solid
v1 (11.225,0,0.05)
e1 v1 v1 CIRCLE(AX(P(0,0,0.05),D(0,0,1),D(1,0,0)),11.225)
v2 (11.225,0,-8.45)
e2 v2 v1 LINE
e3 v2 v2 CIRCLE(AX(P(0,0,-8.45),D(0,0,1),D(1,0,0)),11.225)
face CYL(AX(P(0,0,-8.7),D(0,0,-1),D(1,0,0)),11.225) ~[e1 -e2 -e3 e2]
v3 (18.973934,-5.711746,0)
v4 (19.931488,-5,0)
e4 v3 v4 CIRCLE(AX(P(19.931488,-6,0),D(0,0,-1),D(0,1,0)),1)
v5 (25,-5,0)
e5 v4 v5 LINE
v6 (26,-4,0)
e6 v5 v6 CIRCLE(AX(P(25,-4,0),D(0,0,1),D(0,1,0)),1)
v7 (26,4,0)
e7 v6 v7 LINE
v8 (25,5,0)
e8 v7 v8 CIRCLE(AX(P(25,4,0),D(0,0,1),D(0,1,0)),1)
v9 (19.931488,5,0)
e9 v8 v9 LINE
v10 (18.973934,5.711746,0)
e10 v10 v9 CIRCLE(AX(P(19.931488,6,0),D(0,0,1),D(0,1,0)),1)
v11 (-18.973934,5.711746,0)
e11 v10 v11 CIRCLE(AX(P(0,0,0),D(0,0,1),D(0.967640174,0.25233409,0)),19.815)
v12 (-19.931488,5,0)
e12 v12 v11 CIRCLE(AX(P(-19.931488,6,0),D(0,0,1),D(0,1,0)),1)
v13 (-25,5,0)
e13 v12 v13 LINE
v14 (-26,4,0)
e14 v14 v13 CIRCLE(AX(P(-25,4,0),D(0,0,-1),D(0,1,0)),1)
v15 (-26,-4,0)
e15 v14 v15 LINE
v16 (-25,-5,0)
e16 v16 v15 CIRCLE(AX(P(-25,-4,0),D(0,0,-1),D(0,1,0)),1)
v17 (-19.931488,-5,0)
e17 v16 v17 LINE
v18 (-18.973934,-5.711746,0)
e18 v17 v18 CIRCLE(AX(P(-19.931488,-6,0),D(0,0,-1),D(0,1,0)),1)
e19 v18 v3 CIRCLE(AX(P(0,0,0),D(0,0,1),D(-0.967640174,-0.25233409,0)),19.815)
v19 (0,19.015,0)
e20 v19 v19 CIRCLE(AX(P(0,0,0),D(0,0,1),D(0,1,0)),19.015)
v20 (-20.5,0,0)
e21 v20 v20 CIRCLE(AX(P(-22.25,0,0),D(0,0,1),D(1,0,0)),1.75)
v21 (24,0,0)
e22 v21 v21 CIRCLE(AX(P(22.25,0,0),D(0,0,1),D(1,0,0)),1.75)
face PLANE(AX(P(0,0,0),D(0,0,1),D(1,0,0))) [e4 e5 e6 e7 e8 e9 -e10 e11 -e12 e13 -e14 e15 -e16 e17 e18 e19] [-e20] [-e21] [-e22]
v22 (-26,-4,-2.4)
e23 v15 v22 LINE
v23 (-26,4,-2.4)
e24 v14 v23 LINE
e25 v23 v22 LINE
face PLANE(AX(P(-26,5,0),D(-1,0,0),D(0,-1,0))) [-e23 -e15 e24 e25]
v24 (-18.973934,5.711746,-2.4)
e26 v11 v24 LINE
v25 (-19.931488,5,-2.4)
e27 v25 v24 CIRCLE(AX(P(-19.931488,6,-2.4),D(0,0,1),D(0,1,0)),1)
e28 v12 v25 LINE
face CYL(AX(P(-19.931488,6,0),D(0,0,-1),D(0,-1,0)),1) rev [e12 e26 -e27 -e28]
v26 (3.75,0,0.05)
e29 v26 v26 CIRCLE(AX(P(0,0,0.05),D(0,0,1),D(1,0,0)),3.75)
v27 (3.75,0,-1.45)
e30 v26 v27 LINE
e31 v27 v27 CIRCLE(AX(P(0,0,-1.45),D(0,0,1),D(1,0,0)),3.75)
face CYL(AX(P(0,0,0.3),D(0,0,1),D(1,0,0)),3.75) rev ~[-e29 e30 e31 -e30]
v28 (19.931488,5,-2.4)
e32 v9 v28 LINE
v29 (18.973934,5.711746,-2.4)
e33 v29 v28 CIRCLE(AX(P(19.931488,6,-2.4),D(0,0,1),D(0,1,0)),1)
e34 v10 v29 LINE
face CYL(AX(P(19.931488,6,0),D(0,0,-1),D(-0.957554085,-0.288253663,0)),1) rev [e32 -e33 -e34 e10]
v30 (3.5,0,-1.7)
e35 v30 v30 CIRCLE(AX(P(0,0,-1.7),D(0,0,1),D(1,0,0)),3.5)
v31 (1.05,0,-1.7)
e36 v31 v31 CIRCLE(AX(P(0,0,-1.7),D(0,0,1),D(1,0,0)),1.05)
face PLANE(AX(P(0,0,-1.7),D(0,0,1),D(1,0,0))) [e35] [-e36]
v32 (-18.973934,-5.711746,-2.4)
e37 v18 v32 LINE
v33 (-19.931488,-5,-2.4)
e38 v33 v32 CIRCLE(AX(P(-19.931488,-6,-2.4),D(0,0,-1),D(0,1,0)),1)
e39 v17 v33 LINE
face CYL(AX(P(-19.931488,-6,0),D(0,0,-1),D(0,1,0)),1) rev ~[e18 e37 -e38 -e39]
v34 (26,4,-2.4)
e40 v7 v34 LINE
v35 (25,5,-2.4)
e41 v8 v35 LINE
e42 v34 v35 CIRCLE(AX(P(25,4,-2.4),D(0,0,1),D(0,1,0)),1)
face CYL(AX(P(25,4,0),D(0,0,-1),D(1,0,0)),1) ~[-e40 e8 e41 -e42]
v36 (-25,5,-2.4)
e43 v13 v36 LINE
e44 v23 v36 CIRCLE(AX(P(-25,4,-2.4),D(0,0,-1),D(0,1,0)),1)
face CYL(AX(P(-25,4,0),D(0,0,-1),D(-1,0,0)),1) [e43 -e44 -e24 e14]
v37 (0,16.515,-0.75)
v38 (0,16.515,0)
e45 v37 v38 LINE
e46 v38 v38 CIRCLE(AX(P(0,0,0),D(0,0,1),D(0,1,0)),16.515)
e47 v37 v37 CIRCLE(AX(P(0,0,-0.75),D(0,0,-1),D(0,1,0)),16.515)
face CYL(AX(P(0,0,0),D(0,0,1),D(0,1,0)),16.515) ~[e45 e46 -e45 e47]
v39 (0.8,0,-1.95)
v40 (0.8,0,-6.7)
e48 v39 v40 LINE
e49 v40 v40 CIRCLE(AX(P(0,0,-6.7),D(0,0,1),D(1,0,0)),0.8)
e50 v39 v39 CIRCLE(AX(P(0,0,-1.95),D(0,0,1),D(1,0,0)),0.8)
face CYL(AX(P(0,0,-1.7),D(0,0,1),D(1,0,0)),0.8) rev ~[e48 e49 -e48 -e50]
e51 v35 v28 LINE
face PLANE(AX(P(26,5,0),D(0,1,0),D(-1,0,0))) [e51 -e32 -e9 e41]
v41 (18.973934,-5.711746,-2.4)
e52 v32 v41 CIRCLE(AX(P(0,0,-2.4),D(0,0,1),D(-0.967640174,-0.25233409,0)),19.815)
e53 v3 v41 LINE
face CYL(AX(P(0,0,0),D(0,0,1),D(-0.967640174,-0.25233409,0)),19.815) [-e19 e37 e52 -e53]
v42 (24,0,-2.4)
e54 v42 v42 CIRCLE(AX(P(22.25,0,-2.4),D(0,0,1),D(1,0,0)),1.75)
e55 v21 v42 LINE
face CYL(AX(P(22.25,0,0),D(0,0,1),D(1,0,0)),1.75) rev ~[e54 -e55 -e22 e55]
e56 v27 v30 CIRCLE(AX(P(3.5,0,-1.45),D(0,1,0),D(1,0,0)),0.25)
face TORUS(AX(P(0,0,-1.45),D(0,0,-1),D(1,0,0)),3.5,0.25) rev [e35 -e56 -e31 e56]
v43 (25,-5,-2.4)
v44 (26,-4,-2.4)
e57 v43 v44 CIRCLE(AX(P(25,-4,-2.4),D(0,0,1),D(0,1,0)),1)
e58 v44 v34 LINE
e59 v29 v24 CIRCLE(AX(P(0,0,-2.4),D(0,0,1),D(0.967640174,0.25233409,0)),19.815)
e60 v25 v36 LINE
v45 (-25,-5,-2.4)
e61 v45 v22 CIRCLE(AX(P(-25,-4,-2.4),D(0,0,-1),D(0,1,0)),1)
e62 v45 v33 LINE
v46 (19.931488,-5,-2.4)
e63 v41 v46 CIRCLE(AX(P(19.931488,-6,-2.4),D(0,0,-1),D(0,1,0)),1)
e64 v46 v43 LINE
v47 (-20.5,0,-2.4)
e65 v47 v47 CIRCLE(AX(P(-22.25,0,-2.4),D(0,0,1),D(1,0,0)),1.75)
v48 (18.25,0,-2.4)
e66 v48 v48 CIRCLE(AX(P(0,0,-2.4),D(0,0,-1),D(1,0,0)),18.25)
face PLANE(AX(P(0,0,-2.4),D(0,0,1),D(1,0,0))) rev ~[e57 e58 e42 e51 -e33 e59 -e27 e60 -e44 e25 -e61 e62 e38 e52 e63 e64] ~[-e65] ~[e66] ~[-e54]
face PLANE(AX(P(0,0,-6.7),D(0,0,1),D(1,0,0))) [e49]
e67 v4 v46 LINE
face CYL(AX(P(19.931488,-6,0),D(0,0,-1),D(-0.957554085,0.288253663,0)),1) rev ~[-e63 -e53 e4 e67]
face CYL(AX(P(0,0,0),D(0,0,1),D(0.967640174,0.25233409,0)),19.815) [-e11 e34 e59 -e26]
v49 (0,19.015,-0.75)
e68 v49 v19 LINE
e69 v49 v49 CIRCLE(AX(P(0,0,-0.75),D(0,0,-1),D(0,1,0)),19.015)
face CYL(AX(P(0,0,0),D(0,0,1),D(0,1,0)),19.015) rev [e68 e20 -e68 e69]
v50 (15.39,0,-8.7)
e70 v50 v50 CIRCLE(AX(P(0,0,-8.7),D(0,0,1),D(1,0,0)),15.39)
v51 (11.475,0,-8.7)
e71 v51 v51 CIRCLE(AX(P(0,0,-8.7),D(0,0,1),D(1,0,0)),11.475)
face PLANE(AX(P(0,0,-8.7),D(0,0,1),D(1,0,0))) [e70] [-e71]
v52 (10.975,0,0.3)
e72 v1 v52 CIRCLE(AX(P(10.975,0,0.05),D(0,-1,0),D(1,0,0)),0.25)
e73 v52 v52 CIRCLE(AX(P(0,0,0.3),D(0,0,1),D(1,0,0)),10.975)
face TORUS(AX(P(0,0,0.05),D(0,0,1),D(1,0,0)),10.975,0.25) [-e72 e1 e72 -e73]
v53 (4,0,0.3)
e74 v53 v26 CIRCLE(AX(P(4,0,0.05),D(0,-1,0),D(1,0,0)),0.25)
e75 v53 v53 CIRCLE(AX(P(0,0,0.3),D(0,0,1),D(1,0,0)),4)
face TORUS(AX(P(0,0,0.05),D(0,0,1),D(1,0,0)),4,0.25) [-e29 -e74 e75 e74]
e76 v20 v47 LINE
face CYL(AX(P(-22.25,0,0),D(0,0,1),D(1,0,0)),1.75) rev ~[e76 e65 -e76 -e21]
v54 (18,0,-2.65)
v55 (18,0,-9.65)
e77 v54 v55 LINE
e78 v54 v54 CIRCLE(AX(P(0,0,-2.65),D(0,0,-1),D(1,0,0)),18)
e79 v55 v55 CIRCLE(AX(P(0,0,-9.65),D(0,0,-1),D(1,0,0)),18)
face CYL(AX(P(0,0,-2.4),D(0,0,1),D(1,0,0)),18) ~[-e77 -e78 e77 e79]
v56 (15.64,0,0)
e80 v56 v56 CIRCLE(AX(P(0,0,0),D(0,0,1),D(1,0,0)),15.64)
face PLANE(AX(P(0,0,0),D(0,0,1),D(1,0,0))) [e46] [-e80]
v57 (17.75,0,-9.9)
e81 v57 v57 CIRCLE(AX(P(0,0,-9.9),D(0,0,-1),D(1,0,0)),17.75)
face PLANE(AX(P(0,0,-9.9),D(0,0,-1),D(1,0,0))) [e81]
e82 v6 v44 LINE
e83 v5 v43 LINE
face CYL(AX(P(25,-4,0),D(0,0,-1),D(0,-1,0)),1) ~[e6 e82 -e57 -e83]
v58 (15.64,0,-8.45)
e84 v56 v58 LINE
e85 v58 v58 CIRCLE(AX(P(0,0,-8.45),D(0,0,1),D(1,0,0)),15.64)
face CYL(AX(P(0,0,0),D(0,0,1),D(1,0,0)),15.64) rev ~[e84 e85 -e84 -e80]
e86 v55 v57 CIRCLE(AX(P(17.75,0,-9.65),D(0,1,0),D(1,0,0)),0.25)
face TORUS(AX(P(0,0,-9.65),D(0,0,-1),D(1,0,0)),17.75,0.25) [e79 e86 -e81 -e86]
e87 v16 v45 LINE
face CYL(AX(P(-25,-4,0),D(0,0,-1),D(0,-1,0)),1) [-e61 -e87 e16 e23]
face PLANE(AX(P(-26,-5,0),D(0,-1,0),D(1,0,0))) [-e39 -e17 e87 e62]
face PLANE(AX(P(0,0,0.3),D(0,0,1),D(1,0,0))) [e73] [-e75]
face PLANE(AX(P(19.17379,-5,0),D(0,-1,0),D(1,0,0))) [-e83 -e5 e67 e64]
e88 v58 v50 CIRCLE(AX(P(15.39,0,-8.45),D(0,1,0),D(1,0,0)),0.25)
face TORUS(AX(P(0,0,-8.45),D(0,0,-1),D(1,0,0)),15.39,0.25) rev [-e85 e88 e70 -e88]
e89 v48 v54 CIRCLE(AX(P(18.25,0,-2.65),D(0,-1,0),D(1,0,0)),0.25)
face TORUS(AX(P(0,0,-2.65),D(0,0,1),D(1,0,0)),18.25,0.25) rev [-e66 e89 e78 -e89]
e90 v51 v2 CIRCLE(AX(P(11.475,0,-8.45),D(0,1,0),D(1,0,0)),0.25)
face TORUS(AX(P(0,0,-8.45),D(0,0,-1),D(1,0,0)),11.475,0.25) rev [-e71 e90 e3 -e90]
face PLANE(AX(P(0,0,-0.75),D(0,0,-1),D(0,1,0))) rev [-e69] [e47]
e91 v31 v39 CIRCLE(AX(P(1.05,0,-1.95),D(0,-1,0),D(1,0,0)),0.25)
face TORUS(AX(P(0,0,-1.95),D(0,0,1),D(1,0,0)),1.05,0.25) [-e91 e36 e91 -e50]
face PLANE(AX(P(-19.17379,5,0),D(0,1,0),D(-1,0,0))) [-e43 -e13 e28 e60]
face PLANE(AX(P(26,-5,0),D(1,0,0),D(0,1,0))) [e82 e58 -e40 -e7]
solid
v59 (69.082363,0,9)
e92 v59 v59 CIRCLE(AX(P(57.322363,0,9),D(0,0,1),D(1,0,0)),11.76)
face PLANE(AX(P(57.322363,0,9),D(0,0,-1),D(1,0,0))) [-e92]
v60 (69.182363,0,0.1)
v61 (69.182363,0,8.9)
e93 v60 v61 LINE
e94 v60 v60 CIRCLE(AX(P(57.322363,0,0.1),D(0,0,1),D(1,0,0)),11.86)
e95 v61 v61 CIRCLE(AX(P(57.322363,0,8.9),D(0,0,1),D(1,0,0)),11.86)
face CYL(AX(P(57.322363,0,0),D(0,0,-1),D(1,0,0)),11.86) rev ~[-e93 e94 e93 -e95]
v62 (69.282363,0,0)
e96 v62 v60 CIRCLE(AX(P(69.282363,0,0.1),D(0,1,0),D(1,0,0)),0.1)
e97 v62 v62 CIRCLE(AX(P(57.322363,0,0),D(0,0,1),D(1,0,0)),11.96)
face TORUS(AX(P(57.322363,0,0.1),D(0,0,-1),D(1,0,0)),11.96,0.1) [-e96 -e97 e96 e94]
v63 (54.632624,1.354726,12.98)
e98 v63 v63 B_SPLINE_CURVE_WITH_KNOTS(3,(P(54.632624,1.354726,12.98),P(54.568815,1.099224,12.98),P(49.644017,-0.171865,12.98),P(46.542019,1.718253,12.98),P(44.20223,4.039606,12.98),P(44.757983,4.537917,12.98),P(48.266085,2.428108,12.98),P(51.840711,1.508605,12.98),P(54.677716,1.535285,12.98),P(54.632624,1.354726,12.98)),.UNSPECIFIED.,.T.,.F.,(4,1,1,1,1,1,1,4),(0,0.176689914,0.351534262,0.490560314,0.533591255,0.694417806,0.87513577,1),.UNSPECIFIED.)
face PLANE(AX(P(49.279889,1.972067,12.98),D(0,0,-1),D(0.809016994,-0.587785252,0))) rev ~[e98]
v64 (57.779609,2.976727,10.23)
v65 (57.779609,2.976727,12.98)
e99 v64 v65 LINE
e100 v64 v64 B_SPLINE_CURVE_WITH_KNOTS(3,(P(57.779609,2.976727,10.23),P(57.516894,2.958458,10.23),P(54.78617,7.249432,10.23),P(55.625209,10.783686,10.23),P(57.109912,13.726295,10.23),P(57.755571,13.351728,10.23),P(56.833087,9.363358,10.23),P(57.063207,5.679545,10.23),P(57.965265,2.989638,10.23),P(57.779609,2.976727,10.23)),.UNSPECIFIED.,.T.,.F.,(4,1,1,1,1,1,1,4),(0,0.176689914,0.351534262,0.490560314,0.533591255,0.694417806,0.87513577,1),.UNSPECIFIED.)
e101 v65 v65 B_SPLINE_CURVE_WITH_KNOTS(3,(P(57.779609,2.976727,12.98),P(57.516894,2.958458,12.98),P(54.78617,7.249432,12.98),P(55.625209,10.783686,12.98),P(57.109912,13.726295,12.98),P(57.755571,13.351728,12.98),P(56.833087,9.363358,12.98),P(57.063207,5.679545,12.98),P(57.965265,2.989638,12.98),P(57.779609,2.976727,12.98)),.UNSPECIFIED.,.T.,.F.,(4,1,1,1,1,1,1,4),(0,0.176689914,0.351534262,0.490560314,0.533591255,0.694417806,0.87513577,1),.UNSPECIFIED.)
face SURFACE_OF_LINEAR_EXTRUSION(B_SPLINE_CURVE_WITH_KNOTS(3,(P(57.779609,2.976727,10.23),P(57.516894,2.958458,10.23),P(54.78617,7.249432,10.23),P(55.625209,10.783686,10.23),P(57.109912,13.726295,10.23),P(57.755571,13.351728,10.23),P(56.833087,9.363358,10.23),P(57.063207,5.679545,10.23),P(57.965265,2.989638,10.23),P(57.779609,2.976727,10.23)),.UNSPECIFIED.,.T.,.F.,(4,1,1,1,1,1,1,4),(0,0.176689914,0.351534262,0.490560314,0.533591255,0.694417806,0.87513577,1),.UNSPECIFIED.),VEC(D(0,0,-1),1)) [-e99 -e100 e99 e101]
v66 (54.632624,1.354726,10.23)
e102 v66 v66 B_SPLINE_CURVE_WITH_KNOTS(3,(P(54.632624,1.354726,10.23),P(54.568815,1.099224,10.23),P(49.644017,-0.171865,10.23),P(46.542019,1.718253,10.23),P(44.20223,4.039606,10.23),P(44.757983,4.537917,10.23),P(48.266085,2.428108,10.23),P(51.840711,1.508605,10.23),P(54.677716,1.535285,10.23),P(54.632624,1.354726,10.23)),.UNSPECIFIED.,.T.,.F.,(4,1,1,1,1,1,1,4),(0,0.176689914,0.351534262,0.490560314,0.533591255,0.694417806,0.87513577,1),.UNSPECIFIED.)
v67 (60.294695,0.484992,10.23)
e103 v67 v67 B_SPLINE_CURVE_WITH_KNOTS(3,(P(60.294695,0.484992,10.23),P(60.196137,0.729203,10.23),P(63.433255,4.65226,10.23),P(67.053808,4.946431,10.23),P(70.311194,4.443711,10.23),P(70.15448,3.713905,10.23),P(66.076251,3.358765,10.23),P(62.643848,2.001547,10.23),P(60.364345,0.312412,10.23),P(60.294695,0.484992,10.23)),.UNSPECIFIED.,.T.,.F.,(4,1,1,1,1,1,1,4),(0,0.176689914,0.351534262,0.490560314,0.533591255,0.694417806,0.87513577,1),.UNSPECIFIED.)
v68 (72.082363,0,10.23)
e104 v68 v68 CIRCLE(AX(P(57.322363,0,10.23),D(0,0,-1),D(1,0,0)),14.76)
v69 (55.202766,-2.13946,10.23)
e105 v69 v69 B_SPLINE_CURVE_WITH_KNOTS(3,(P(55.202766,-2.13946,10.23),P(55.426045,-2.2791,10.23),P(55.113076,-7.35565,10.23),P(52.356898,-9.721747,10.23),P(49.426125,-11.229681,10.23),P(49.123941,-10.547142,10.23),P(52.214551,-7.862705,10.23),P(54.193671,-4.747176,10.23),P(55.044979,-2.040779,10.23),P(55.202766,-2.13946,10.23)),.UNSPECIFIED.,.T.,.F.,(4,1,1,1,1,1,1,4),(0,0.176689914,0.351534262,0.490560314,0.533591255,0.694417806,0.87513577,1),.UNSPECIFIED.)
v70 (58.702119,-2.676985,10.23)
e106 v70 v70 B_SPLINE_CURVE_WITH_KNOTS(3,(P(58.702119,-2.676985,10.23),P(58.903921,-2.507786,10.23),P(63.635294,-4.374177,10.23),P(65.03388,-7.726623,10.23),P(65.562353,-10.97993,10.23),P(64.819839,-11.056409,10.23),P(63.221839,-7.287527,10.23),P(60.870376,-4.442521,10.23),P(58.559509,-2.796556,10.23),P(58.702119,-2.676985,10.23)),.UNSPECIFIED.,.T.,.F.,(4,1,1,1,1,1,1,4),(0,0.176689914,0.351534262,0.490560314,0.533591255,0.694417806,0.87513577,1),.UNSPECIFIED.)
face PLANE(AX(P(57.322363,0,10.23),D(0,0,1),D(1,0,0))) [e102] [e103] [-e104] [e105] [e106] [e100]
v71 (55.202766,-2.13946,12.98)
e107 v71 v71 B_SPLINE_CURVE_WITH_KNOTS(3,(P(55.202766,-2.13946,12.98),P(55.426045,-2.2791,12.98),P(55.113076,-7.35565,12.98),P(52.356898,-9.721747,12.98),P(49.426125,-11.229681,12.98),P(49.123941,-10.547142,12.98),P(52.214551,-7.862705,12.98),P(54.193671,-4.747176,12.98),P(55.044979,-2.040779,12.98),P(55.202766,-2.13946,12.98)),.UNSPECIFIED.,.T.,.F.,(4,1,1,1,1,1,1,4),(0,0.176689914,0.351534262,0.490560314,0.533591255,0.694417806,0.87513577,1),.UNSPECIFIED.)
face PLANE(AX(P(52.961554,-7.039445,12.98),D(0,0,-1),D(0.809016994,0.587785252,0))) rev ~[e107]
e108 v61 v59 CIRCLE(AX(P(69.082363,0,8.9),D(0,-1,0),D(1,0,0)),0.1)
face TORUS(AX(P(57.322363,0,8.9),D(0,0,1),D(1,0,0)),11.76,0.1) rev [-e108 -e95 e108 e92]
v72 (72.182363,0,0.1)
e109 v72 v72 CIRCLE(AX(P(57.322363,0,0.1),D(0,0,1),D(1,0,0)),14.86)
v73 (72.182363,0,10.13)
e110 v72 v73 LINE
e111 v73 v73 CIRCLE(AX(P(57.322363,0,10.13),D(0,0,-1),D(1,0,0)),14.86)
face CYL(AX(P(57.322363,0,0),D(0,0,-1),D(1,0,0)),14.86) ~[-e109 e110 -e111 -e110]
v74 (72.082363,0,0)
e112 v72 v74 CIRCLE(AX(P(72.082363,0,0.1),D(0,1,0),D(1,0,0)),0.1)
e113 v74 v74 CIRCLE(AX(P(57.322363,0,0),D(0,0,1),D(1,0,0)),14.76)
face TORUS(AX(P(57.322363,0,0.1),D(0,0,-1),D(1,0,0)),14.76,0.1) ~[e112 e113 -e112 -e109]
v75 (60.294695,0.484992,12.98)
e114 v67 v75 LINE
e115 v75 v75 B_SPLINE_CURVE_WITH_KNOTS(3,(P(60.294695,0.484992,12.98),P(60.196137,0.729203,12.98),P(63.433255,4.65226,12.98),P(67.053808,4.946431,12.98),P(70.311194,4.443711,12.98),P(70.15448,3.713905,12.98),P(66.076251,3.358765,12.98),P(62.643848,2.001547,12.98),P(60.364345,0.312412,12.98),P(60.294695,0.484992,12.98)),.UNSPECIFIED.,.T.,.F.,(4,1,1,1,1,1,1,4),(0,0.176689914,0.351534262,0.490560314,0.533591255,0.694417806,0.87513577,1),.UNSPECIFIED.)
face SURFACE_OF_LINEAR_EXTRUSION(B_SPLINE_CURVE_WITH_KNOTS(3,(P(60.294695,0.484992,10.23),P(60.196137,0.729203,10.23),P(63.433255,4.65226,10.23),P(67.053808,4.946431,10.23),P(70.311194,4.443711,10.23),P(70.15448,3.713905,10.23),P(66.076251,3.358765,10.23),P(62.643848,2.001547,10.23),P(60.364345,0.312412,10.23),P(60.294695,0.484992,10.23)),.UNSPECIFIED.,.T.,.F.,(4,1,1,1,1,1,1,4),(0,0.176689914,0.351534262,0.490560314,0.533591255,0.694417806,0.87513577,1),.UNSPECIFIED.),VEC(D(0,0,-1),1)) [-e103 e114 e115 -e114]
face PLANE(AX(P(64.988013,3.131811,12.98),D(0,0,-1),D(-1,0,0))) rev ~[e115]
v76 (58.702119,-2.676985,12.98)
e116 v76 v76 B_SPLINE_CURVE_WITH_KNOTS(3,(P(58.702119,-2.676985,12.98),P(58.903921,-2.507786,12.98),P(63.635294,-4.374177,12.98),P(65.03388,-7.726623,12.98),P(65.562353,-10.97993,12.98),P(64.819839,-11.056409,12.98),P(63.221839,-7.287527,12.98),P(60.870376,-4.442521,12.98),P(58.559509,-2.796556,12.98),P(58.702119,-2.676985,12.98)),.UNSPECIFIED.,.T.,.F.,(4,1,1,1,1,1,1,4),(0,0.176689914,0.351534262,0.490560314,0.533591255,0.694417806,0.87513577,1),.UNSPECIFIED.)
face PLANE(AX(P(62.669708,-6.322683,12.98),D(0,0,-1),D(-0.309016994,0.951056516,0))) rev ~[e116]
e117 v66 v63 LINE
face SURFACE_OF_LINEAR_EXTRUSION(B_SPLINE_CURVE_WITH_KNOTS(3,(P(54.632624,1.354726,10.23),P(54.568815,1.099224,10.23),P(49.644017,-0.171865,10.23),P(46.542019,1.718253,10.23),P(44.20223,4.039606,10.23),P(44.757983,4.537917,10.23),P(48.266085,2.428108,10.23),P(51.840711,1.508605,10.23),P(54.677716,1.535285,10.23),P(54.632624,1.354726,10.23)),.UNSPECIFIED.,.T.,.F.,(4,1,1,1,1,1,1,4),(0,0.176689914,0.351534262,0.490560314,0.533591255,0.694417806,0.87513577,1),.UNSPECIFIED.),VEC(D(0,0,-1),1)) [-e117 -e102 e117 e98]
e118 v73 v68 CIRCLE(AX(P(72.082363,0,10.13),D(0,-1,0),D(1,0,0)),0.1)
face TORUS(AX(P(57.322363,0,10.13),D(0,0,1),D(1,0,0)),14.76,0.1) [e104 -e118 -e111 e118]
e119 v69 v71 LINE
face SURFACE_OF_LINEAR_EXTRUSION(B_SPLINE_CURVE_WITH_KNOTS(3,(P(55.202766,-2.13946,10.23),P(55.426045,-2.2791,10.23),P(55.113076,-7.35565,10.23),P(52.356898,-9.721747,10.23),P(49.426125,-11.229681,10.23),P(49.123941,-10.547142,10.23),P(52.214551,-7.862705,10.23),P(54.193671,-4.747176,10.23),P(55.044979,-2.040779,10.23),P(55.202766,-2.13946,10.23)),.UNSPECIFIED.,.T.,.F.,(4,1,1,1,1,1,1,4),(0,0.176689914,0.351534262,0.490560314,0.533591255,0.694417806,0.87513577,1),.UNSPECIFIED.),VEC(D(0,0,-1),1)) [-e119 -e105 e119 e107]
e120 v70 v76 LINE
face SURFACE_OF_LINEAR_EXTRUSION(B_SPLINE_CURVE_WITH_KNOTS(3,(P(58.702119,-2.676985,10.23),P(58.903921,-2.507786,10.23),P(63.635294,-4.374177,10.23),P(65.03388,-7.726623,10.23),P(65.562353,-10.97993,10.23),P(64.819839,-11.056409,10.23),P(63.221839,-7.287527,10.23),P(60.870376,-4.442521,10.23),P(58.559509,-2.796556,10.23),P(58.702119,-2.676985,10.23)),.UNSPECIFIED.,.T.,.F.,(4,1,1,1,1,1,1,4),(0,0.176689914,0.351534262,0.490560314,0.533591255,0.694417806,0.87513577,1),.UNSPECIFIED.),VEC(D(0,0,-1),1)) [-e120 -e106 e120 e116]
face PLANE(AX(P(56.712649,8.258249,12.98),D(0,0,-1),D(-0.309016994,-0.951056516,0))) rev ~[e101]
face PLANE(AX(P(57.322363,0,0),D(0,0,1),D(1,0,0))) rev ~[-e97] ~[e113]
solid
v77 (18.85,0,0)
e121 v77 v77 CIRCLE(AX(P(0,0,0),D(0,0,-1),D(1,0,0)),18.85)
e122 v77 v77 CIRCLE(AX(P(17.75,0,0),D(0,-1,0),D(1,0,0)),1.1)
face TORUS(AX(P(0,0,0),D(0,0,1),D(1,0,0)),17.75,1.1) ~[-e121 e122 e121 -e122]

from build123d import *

# Parameters (mm, degrees)
F0_R      = 1.75
F1_DEPTH  = 2.4
F2_R      = 1
F3_R      = 18
F4_DEPTH  = 7.5
F5_R      = 15.64
F6_DEPTH  = 8.7
F7_R      = 11.225
F8_DEPTH  = 9
F9_R      = 3.75
F10_DEPTH = 2
F11_R     = 0.8
F12_DEPTH = 5
F13_R     = 0.25
F14_W     = 2.5
F14_H     = 1.5
F18_R     = 1.1
F21_R     = 14.86
F22_DEPTH = 10.23
F23_R     = 11.86
F24_DEPTH = 9
F25_R     = 0.1
F28_DEPTH = 2.75
F29_COUNT = 5


with BuildPart() as f1:
    # F0 (on Top) → F1 (new body)
    with BuildSketch(Plane.XY):
        with BuildLine():
            Line((-26, -5), (-19.1737900531, -5))
            ThreePointArc((-19.1737900531, -5), (0, -19.815), (19.1737900531, -5))
            Line((19.1737900531, -5), (26, -5))
            Line((26, -5), (26, 5))
            Line((26, 5), (19.1737900531, 5))
            ThreePointArc((19.1737900531, 5), (0, 19.815), (-19.1737900531, 5))
            Line((-19.1737900531, 5), (-26, 5))
            Line((-26, 5), (-26, -5))
        make_face()
        with Locations((-22.25, 0)):
            Circle(F0_R, mode=Mode.SUBTRACT)
        with Locations((22.25, 0)):
            Circle(F0_R, mode=Mode.SUBTRACT)
    extrude(amount=-F1_DEPTH)

    # F2
    f2_edges = [f1.edges().sort_by_distance(p)[0] for p in [
        (26, -5, -1.2),
        (19.17379, -5, -1.2),
        (26, 5, -1.2),
        (19.17379, 5, -1.2),
        (-19.17379, 5, -1.2),
        (-26, 5, -1.2),
        (-26, -5, -1.2),
        (-19.17379, -5, -1.2),
    ]]
    fillet(f2_edges, radius=F2_R)

    # F3 (on face) → F4 (join)
    with BuildSketch(Plane(origin=(0, 0, -2.4), x_dir=(1, 0, 0), z_dir=(0, 0, -1))):
        Circle(F3_R)
    extrude(amount=F4_DEPTH)

    # F5 (on face) → F6 (cut)
    with BuildSketch(Plane.XY):
        Circle(F5_R)
    extrude(amount=-F6_DEPTH, mode=Mode.SUBTRACT)

    # F7 (on face) → F8 (join)
    with BuildSketch(Plane.XY.offset(-8.7)):
        Circle(F7_R)
    extrude(amount=F8_DEPTH)

    # F9 (on face) → F10 (cut)
    with BuildSketch(Plane.XY.offset(0.3)):
        Circle(F9_R)
    extrude(amount=-F10_DEPTH, mode=Mode.SUBTRACT)

    # F11 (on face) → F12 (cut)
    with BuildSketch(Plane.XY.offset(-1.7)):
        Circle(F11_R)
    extrude(amount=-F12_DEPTH, mode=Mode.SUBTRACT)

    # F13
    f13_edges = [f1.edges().sort_by_distance(p)[0] for p in [
        (-18, 0, -9.9),
        (-18, 0, -2.4),
        (-15.64, 0, -8.7),
        (-11.225, 0, -8.7),
        (-11.225, 0, 0.3),
        (-3.75, 0, 0.3),
        (-3.75, 0, -1.7),
        (-0.8, 0, -1.7),
    ]]
    fillet(f13_edges, radius=F13_R)

    # F14 (on Right) → F16 (revolve, cut)
    with BuildSketch(Plane.YZ):
        with Locations((17.765, 0)):
            Rectangle(F14_W, F14_H)
    revolve(axis=Axis((0, 0, -5.8747697622), (0, 0, -1)), mode=Mode.SUBTRACT)


with BuildPart() as f20:
    # F18 (on Front) → F20 (revolve)
    with BuildSketch(Plane.XZ):
        with Locations((17.75, 0)):
            Circle(F18_R)
    revolve(axis=Axis((0, 0, -3.7356289104), (0, 0, -1)))


with BuildPart() as f22:
    # F21 (on Top) → F22 (new body)
    with BuildSketch(Plane.XY):
        with Locations((57.3223626233, 0)):
            Circle(F21_R)
    extrude(amount=F22_DEPTH)

    # F23 (on face) → F24 (cut)
    with BuildSketch(Plane(origin=(0, 0, 0), x_dir=(1, 0, 0), z_dir=(0, 0, -1))):
        with Locations((57.3223626233, 0)):
            Circle(F23_R)
    extrude(amount=-F24_DEPTH, mode=Mode.SUBTRACT)

    # F25
    f25_edges = [f22.edges().sort_by_distance(p)[0] for p in [
        (42.462363, 0, 10.23),
        (42.462363, 0, 0),
        (45.462363, 0, 0),
        (45.462363, 0, 9),
    ]]
    fillet(f25_edges, radius=F25_R)

    # F27 (on face) → F28 (join)
    with BuildSketch(Plane.XY.offset(10.23)):
        with BuildLine():
            add(Edge.make_bspline(
                [(60.2946951985, 0.4849924881), (60.1961369444, 0.7292032142), (63.4332551793, 4.6522597797), (67.0538077313, 4.9464313407), (70.3111938877, 4.443711012), (70.1544795963, 3.7139052901), (66.0762512799, 3.3587653978), (62.6438476061, 2.0015472244), (60.3643449041, 0.3124122682), (60.2946951985, 0.4849924881)],
                knots=[0, 0, 0, 0, 0.1766899144, 0.3515342622, 0.4905603141, 0.533591255, 0.6944178059, 0.87513577, 1, 1, 1, 1], degree=3))
        make_face()
    extrude(amount=F28_DEPTH)

    # F29: F22 ×5 about axis
    f29_axis = Axis((57.3223626233, 0, 6.2144845724), (0, 0, -1))


with BuildPart() as f22_1:
    add(f22.part)
    for i in range(1, F29_COUNT):
        add(f22.part.rotate(f29_axis, i * 360 / F29_COUNT))


solid = Compound([f1.part, f20.part, f22_1.part])
